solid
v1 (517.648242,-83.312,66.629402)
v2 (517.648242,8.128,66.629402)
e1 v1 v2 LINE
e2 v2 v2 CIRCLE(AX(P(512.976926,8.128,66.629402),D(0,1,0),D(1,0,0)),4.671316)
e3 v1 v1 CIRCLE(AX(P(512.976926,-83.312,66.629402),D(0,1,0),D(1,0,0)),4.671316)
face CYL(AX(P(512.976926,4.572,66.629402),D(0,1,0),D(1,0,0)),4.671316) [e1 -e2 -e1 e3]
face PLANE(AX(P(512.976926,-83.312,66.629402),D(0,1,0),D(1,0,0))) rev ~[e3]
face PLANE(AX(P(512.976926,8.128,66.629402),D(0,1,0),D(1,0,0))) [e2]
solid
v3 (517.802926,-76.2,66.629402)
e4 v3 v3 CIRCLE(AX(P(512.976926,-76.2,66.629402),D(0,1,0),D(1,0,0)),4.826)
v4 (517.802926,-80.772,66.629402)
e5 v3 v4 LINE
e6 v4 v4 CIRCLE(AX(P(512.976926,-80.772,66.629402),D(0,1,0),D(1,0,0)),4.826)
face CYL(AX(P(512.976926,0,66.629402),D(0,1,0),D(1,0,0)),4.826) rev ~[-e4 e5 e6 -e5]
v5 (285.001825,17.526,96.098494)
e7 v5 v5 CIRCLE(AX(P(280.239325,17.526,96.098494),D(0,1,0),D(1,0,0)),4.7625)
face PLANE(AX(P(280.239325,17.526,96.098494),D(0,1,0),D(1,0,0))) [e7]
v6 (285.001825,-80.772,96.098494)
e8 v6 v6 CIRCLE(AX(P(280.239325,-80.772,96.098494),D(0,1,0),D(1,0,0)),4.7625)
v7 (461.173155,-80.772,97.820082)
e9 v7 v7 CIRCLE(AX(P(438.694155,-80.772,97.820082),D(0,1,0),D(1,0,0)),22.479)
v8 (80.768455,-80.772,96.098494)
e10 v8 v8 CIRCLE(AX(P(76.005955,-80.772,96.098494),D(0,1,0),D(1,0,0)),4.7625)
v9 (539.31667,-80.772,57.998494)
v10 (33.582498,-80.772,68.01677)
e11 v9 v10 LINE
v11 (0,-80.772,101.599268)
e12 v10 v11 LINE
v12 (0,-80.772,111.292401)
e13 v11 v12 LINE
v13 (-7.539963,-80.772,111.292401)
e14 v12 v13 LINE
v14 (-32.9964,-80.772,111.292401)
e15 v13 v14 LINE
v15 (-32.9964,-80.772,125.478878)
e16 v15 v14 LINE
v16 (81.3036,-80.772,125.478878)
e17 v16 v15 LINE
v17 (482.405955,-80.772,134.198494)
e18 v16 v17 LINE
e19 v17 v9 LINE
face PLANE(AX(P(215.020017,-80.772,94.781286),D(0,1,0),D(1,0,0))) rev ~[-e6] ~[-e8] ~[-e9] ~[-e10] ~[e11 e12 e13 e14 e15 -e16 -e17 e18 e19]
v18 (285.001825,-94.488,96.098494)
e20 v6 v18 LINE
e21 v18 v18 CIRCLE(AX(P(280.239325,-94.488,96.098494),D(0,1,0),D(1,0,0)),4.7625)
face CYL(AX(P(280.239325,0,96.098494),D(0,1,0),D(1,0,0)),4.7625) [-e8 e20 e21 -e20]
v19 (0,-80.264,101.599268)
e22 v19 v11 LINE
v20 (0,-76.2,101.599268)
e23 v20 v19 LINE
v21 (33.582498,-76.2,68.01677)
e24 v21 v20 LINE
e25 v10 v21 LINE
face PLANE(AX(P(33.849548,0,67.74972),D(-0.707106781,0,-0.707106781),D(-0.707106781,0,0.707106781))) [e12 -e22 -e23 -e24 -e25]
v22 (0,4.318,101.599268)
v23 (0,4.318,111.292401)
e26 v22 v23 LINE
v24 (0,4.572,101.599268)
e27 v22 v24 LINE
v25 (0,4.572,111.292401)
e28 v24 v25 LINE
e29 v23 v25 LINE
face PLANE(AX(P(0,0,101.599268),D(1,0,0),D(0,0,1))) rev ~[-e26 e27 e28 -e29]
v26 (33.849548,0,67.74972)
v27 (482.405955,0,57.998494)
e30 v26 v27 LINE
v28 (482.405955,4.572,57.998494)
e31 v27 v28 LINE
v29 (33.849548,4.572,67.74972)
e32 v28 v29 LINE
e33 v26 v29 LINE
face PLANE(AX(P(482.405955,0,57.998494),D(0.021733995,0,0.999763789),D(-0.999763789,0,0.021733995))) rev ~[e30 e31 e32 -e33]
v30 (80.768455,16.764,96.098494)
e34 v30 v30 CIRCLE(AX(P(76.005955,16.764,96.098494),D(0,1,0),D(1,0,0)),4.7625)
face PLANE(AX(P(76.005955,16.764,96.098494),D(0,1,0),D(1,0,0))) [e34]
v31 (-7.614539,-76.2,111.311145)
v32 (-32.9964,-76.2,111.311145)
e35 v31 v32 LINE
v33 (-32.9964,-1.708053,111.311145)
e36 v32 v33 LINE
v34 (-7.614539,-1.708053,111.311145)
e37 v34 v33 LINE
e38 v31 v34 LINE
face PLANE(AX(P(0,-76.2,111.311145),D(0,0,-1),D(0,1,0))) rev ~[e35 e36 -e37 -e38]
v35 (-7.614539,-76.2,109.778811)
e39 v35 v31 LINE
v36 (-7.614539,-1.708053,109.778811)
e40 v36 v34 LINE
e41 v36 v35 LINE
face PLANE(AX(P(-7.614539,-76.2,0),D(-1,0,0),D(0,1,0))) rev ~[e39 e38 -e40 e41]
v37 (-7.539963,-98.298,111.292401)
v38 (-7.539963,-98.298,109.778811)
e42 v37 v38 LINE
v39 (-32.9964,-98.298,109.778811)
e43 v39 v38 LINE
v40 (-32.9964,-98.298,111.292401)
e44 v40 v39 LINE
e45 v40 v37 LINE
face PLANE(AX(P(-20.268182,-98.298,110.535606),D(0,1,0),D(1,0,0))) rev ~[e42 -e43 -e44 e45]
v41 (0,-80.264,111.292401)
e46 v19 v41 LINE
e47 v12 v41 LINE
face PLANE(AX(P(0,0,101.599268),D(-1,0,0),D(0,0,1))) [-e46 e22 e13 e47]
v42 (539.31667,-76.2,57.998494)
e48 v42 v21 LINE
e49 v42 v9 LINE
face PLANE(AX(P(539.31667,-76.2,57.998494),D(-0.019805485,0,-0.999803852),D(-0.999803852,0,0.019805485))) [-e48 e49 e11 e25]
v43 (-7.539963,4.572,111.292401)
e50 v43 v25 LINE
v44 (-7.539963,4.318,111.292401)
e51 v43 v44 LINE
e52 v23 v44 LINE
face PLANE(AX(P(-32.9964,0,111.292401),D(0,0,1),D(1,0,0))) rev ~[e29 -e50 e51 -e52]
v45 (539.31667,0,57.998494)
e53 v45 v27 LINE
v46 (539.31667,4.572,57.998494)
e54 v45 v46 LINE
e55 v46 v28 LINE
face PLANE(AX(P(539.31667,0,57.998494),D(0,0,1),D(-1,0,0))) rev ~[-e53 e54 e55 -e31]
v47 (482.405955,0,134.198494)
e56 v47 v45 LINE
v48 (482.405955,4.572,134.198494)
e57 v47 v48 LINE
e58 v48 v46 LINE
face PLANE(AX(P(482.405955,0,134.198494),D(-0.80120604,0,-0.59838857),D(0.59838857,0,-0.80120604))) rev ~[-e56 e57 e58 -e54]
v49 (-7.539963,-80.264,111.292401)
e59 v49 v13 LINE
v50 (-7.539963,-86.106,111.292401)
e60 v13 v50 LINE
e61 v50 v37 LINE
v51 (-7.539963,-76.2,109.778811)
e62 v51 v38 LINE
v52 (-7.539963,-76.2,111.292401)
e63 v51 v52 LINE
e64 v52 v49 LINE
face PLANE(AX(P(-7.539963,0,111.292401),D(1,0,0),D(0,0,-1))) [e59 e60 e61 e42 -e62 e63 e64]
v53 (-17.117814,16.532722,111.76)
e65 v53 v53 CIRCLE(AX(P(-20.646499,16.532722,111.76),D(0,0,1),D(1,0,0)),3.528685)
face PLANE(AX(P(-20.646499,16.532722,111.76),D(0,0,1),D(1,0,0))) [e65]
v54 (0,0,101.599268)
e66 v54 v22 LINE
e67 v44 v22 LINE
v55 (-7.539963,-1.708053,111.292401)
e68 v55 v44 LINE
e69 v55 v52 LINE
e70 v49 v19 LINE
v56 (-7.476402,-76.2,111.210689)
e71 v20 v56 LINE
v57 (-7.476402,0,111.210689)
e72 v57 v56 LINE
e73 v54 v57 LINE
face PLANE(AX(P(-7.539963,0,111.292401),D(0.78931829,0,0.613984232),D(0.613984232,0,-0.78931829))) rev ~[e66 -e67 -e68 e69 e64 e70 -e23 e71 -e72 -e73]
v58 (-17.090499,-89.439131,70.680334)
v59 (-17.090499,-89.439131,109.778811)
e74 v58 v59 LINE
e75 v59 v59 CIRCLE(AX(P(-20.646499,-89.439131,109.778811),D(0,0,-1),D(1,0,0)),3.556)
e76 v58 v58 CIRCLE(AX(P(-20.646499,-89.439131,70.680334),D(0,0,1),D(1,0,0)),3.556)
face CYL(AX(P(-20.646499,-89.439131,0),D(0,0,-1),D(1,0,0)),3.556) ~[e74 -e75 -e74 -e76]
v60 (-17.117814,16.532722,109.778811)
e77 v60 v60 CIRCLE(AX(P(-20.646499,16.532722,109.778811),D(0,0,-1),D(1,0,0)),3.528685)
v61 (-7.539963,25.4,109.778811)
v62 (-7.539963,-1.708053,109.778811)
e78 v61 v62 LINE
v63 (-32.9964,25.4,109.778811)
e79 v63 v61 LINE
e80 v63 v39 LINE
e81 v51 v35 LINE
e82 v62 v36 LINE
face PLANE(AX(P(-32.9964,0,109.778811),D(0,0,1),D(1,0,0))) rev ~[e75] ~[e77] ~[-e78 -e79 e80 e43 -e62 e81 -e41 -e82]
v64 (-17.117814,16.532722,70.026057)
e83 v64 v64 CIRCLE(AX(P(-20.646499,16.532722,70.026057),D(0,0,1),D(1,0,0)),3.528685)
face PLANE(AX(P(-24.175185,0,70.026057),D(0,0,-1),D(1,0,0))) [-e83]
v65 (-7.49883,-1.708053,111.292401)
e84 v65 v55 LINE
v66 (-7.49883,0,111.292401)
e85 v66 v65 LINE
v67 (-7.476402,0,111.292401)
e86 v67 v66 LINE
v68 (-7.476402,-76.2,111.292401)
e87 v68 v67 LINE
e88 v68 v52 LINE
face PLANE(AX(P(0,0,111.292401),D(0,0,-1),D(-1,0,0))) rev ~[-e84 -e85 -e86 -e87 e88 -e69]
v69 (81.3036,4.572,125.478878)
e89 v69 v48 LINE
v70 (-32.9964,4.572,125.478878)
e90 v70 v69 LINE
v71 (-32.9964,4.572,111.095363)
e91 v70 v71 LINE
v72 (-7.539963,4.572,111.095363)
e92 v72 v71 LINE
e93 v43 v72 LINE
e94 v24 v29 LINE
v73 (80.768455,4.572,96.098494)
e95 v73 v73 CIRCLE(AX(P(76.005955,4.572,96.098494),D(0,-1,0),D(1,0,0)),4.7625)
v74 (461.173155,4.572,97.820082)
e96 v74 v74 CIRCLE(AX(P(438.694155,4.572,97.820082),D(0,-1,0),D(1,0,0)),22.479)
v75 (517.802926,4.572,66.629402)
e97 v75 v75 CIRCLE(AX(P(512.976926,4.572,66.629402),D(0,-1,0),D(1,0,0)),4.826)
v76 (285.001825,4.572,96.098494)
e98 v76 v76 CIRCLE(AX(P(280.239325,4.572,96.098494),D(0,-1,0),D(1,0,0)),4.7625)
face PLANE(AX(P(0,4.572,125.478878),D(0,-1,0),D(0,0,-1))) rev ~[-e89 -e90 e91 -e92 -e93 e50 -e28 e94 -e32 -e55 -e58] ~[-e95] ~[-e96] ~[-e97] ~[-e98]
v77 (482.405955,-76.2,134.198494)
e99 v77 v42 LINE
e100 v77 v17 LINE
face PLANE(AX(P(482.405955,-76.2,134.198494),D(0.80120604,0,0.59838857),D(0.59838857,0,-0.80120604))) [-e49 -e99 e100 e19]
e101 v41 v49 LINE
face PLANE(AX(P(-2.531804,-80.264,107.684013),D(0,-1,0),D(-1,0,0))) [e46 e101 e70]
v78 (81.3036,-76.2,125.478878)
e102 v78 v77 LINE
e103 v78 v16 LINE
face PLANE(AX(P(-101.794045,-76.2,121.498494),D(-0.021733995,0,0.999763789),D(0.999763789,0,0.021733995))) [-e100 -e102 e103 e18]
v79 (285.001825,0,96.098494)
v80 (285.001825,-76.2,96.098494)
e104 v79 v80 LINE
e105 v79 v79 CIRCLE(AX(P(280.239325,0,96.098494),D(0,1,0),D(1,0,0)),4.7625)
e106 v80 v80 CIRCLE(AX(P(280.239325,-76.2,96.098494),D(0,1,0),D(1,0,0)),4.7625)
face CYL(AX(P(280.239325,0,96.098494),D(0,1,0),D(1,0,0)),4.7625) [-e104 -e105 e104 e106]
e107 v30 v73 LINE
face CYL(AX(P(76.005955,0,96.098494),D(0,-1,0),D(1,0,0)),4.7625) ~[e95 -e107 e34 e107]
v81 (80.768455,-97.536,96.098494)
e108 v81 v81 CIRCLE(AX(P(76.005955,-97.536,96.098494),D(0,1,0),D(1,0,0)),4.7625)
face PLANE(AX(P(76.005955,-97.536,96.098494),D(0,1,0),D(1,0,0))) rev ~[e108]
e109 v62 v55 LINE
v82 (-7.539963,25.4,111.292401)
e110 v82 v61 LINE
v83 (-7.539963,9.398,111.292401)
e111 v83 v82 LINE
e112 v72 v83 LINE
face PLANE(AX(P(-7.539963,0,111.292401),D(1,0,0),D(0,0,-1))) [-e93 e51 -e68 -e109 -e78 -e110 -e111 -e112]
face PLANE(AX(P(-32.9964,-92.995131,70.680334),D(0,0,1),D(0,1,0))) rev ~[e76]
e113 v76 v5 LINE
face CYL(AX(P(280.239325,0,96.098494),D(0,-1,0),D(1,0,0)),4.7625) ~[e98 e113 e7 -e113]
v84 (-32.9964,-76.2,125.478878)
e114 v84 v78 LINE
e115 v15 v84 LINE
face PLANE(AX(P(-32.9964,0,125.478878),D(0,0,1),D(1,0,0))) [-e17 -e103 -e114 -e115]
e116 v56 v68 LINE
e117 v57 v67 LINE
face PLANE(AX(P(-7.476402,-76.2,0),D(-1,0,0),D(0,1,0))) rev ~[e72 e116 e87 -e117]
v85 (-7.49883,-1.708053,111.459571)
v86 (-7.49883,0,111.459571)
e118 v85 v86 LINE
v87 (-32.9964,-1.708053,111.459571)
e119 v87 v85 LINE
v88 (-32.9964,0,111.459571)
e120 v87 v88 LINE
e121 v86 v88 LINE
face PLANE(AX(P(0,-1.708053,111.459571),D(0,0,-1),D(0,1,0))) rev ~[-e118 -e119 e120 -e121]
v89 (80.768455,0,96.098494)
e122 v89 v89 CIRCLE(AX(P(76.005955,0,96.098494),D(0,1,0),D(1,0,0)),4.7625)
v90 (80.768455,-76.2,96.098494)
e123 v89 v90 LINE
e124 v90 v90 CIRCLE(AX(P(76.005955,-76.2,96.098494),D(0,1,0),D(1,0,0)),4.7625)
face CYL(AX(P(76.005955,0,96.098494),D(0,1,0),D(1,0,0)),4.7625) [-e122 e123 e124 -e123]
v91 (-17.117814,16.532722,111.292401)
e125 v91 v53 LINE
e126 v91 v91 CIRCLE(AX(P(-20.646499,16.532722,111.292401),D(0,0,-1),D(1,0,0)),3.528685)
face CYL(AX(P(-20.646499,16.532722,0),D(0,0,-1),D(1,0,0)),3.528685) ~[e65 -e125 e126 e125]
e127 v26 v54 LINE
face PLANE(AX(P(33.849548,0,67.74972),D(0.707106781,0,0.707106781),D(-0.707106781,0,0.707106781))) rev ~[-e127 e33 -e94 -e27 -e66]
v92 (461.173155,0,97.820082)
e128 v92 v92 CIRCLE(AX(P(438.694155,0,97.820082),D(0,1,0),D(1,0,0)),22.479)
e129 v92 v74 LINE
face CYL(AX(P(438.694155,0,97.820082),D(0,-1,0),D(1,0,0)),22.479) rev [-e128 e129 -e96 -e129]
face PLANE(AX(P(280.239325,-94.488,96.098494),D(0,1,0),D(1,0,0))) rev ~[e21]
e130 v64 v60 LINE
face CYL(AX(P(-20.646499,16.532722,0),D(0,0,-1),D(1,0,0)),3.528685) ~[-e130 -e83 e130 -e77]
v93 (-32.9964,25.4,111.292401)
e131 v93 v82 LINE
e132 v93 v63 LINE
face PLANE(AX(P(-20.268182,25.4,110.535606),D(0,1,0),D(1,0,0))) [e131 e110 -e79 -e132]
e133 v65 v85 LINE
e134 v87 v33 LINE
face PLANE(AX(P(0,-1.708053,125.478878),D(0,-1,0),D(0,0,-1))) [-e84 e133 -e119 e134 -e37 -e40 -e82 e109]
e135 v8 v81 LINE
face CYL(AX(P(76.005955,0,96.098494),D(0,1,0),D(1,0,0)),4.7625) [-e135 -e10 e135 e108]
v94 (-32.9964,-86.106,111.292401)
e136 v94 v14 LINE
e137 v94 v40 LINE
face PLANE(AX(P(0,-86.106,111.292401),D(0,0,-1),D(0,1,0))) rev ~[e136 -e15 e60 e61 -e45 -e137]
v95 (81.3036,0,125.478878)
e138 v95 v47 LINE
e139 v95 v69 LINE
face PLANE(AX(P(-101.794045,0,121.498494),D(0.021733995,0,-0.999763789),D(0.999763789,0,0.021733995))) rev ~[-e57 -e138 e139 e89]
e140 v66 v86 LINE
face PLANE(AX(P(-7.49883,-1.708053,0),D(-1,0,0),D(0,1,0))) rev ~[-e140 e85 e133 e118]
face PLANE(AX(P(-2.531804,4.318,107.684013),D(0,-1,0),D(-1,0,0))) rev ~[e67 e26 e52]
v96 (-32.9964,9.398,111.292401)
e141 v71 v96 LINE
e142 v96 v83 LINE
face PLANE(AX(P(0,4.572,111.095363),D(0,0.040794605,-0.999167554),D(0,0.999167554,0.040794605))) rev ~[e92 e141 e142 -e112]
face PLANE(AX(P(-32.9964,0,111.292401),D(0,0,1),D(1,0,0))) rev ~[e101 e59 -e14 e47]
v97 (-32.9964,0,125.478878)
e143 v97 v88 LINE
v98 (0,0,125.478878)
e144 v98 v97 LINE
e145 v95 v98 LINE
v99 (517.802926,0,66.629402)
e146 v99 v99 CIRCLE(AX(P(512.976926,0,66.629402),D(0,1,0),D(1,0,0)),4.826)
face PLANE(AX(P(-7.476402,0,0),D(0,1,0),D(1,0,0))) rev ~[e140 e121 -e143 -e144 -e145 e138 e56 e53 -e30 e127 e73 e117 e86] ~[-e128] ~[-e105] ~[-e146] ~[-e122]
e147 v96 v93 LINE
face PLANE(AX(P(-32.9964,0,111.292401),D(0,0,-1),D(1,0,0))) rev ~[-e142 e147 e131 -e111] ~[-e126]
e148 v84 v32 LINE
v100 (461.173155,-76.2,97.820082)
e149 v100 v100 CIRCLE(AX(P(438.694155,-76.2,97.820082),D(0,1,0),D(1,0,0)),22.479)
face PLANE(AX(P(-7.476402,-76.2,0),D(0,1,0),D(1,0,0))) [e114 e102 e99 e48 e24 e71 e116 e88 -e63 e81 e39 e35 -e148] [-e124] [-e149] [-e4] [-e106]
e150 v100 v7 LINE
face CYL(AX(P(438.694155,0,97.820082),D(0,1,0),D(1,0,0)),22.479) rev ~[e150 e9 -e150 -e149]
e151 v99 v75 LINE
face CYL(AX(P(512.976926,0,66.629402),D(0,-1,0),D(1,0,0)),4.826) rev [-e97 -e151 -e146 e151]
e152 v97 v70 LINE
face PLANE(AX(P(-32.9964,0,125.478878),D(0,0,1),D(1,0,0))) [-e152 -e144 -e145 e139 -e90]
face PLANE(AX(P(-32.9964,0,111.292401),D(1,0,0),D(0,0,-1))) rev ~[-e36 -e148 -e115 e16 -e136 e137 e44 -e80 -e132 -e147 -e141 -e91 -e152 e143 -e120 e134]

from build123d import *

# Parameters (mm, degrees)
SALIENTE_EXTRUIR2_DEPTH       = 4.572
CROQUIS4_R                    = 4.7625
CORTAR_EXTRUIR2_DEPTH         = 152.654
CORTAR_EXTRUIR2_DEPTH_BACK    = 98.552
CROQUIS5_R                    = 7.9375
CORTAR_EXTRUIR5_DEPTH         = 47.498
CORTAR_EXTRUIR5_DEPTH_BACK    = 59.182
CROQUIS6_R                    = 4.7625
SALIENTE_EXTRUIR4_DEPTH       = 17.526
SALIENTE_EXTRUIR4_DEPTH_BACK  = 94.488
CROQUIS7_R                    = 4.7625
SALIENTE_EXTRUIR5_DEPTH       = 16.002
SALIENTE_EXTRUIR5_DEPTH_BACK  = 97.536
CROQUIS10_R                   = 7.9375
SALIENTE_EXTRUIR6_DEPTH       = 4.572
CROQUIS11_R                   = 22.479
CORTAR_EXTRUIR6_DEPTH         = 97.282
CORTAR_EXTRUIR6_DEPTH_BACK    = 123.444
CROQUIS12_R                   = 4.826
CORTAR_EXTRUIR7_DEPTH         = 113.792
CORTAR_EXTRUIR7_DEPTH_BACK    = 187.96
CROQUIS13_R                   = 4.671315892
SALIENTE_EXTRUIR8_DEPTH       = 3.556
SALIENTE_EXTRUIR8_DEPTH_BACK  = 87.884
CORTAR_EXTRUIR8_DEPTH         = 84.074
CORTAR_EXTRUIR8_DEPTH_BACK    = 142.748
CROQUIS15_W                   = 114.3
CROQUIS15_H                   = 14.18647629
SALIENTE_EXTRUIR13_DEPTH      = 9.398
SALIENTE_EXTRUIR13_DEPTH_BACK = 86.106
CROQUIS17_W                   = 25.456436791
CROQUIS17_H                   = 1.513590227
SALIENTE_EXTRUIR14_DEPTH      = 25.4
SALIENTE_EXTRUIR14_DEPTH_BACK = 98.298
CROQUIS18_W                   = 13.736168234
CROQUIS18_H                   = 76.2
CORTAR_EXTRUIR9_DEPTH         = 127.508
CROQUIS19_W                   = 14.167732796
CROQUIS19_H                   = 72.287064097
CORTAR_EXTRUIR12_DEPTH        = 127.508
CROQUIS20_W                   = 71.243454513
CROQUIS20_H                   = 66.240283729
CORTAR_EXTRUIR13_DEPTH        = 289.306
CORTAR_EXTRUIR13_DEPTH_BACK   = 150.368
CORTAR_EXTRUIR14_DEPTH        = 662.432
CORTAR_EXTRUIR14_DEPTH_BACK   = 12.7
CORTAR_EXTRUIR15_DEPTH        = 397.51
CROQUIS23_R                   = 4.7625
SALIENTE_EXTRUIR15_DEPTH      = 16.764
SALIENTE_EXTRUIR15_DEPTH_BACK = 95.504
CORTAR_EXTRUIR17_DEPTH        = 83.566
CORTAR_EXTRUIR17_DEPTH_BACK   = 37.846
CROQUIS25_W                   = 14.18647629
CROQUIS25_H                   = 5.334
CORTAR_EXTRUIR18_DEPTH        = 88.138
CORTAR_EXTRUIR18_DEPTH_BACK   = 41.402
CROQUIS26_W                   = 14.019306629
CROQUIS26_H                   = 1.708052777
CORTAR_EXTRUIR19_DEPTH        = 41.402
CORTAR_EXTRUIR19_DEPTH_BACK   = 67.31
CROQUIS27_W                   = 14.167732796
CROQUIS27_H                   = 2.204883126
CORTAR_EXTRUIR20_DEPTH        = 48.26
CORTAR_EXTRUIR20_DEPTH_BACK   = 71.628
CROQUIS28_W                   = 7.614539368
CROQUIS28_H                   = 74.491947223
CORTAR_EXTRUIR21_DEPTH        = 254
CROQUIS29_W                   = 7.498830198
CROQUIS29_H                   = 1.708052777
CORTAR_EXTRUIR22_DEPTH        = 340.106
SALIENTE_EXTRUIR19_DEPTH      = 4.318
SALIENTE_EXTRUIR19_DEPTH_BACK = 80.264
CROQUIS32_W                   = 7.476401903
CROQUIS32_H                   = 76.2
CORTAR_EXTRUIR24_DEPTH        = 209.042
CROQUIS33_R                   = 3.528685289
SALIENTE_EXTRUIR20_DEPTH      = 111.76
CROQUIS34_W                   = 7.057370577
CROQUIS34_H                   = 70.026056614
CORTAR_EXTRUIR25_DEPTH        = 200.406
CROQUIS35_R                   = 3.556
SALIENTE_EXTRUIR21_DEPTH      = 110.998
SALIENTE_EXTRUIR21_DEPTH_BACK = 5.08
CROQUIS36_W                   = 75.760333747
CROQUIS36_H                   = 7.112
CORTAR_EXTRUIR26_DEPTH        = 55.626
CORTAR_EXTRUIR26_DEPTH_BACK   = 67.818


with BuildPart() as part:
    # Croquis1 → Saliente-Extruir2 (new body)
    with BuildSketch(Plane(origin=(0, 0, 0), x_dir=(1, 0, 0), z_dir=(0, 1, 0))):
        Polygon((-101.794045487, -70.698494166), (-101.794045487, -121.498494166), (482.405954513, -134.198494166), (539.316670094, -57.998494166), (482.405954513, -57.998494166), align=None)
    extrude(amount=SALIENTE_EXTRUIR2_DEPTH)

    # Croquis4 → Cortar-Extruir2 (cut, two sides)
    with BuildSketch(Plane(origin=(0, 0, 0), x_dir=(1, 0, 0), z_dir=(0, 1, 0))) as cortar_extruir2_sk:
        with Locations((76.005954513, -96.098494166)):
            Circle(CROQUIS4_R)
        with Locations((280.239325042, -96.098494166)):
            Circle(CROQUIS4_R)
    extrude(amount=CORTAR_EXTRUIR2_DEPTH, mode=Mode.SUBTRACT)
    extrude(cortar_extruir2_sk.sketch, amount=-CORTAR_EXTRUIR2_DEPTH_BACK, mode=Mode.SUBTRACT)

    # Croquis5 → Cortar-Extruir5 (cut, two sides)
    with BuildSketch(Plane(origin=(0, 0, 0), x_dir=(1, 0, 0), z_dir=(0, 1, 0))) as cortar_extruir5_sk:
        with Locations((438.694154646, -97.820081973)):
            Circle(CROQUIS5_R)
    extrude(amount=CORTAR_EXTRUIR5_DEPTH, mode=Mode.SUBTRACT)
    extrude(cortar_extruir5_sk.sketch, amount=-CORTAR_EXTRUIR5_DEPTH_BACK, mode=Mode.SUBTRACT)

    # Croquis6 → Saliente-Extruir4 (add, two sides)
    with BuildSketch(Plane(origin=(0, 0, 0), x_dir=(1, 0, 0), z_dir=(0, 1, 0))) as saliente_extruir4_sk:
        with Locations((280.239325042, -96.098494166)):
            Circle(CROQUIS6_R)
    extrude(amount=SALIENTE_EXTRUIR4_DEPTH)
    extrude(saliente_extruir4_sk.sketch, amount=-SALIENTE_EXTRUIR4_DEPTH_BACK)

    # Croquis7 → Saliente-Extruir5 (add, two sides)
    with BuildSketch(Plane(origin=(0, 0, 0), x_dir=(1, 0, 0), z_dir=(0, 1, 0))) as saliente_extruir5_sk:
        with Locations((76.005954513, -96.098494166)):
            Circle(CROQUIS7_R)
    extrude(amount=SALIENTE_EXTRUIR5_DEPTH)
    extrude(saliente_extruir5_sk.sketch, amount=-SALIENTE_EXTRUIR5_DEPTH_BACK)

    # Croquis10 → Saliente-Extruir6 (add)
    with BuildSketch(Plane(origin=(0, -76.2, 0), x_dir=(-1, 0, 0), z_dir=(0, -1, 0))):
        Polygon((-539.316670094, -57.998494166), (101.794045487, -70.698494166), (101.794045487, -121.498494166), (-482.405954513, -134.198494166), align=None)
        with Locations((-438.694154646, -97.820081973)):
            Circle(CROQUIS10_R, mode=Mode.SUBTRACT)
    extrude(amount=SALIENTE_EXTRUIR6_DEPTH)

    # Croquis11 → Cortar-Extruir6 (cut, two sides)
    with BuildSketch(Plane(origin=(0, 0, 0), x_dir=(1, 0, 0), z_dir=(0, 1, 0))) as cortar_extruir6_sk:
        with Locations((438.694154646, -97.820081973)):
            Circle(CROQUIS11_R)
    extrude(amount=CORTAR_EXTRUIR6_DEPTH, mode=Mode.SUBTRACT)
    extrude(cortar_extruir6_sk.sketch, amount=-CORTAR_EXTRUIR6_DEPTH_BACK, mode=Mode.SUBTRACT)

    # Croquis12 → Cortar-Extruir7 (cut, two sides)
    with BuildSketch(Plane(origin=(0, 0, 0), x_dir=(1, 0, 0), z_dir=(0, 1, 0))) as cortar_extruir7_sk:
        with Locations((512.976925935, -66.629402009)):
            Circle(CROQUIS12_R)
    extrude(amount=CORTAR_EXTRUIR7_DEPTH, mode=Mode.SUBTRACT)
    extrude(cortar_extruir7_sk.sketch, amount=-CORTAR_EXTRUIR7_DEPTH_BACK, mode=Mode.SUBTRACT)

    # Croquis14 → Cortar-Extruir8 (cut, two sides)
    with BuildSketch(Plane(origin=(0, 0, 0), x_dir=(1, 0, 0), z_dir=(0, 1, 0))) as cortar_extruir8_sk:
        Polygon((33.849548038, -67.749720393), (0, -101.599268431), (0, -123.711408198), (-101.794045487, -121.498494166), (-101.794045487, -70.698494166), align=None)
    extrude(amount=CORTAR_EXTRUIR8_DEPTH, mode=Mode.SUBTRACT)
    extrude(cortar_extruir8_sk.sketch, amount=-CORTAR_EXTRUIR8_DEPTH_BACK, mode=Mode.SUBTRACT)

    # Croquis15 → Saliente-Extruir13 (add, two sides)
    with BuildSketch(Plane(origin=(0, 0, 0), x_dir=(1, 0, 0), z_dir=(0, 1, 0))) as saliente_extruir13_sk:
        with Locations((24.153600026, -118.385639619)):
            Rectangle(CROQUIS15_W, CROQUIS15_H)
    extrude(amount=SALIENTE_EXTRUIR13_DEPTH)
    extrude(saliente_extruir13_sk.sketch, amount=-SALIENTE_EXTRUIR13_DEPTH_BACK)

    # Croquis17 → Saliente-Extruir14 (add, two sides)
    with BuildSketch(Plane(origin=(0, 0, 0), x_dir=(1, 0, 0), z_dir=(0, 1, 0))) as saliente_extruir14_sk:
        with Locations((-20.268181578, -110.53560636)):
            Rectangle(CROQUIS17_W, CROQUIS17_H)
    extrude(amount=SALIENTE_EXTRUIR14_DEPTH)
    extrude(saliente_extruir14_sk.sketch, amount=-SALIENTE_EXTRUIR14_DEPTH_BACK)

    # Croquis18 → Cortar-Extruir9 (cut)
    with BuildSketch(Plane(origin=(0, 0, 0), x_dir=(0, 0, -1), z_dir=(1, 0, 0))):
        with Locations((-118.610793647, -38.1)):
            Rectangle(CROQUIS18_W, CROQUIS18_H)
    extrude(amount=CORTAR_EXTRUIR9_DEPTH, mode=Mode.SUBTRACT)

    # Croquis19 → Cortar-Extruir12 (cut)
    with BuildSketch(Plane(origin=(0, 0, 0), x_dir=(0, 0, -1), z_dir=(1, 0, 0))):
        with Locations((-118.395011366, -37.851584826)):
            Rectangle(CROQUIS19_W, CROQUIS19_H)
    extrude(amount=-CORTAR_EXTRUIR12_DEPTH, mode=Mode.SUBTRACT)

    # Croquis20 → Cortar-Extruir13 (cut, two sides)
    with BuildSketch(Plane.XY.offset(111.74270953)) as cortar_extruir13_sk:
        with Locations((35.621727257, -38.064616677)):
            Rectangle(CROQUIS20_W, CROQUIS20_H)
    extrude(amount=CORTAR_EXTRUIR13_DEPTH, mode=Mode.SUBTRACT)
    extrude(cortar_extruir13_sk.sketch, amount=-CORTAR_EXTRUIR13_DEPTH_BACK, mode=Mode.SUBTRACT)

    # Croquis21 → Cortar-Extruir14 (cut, two sides)
    with BuildSketch(Plane.XY) as cortar_extruir14_sk:
        Polygon((71.243454513, -4.944474812), (71.243454513, -71.184758541), (81.303600026, -76.2), (81.303600026, 0), (0, 0), (0, -4.944474812), align=None)
    extrude(amount=CORTAR_EXTRUIR14_DEPTH, mode=Mode.SUBTRACT)
    extrude(cortar_extruir14_sk.sketch, amount=-CORTAR_EXTRUIR14_DEPTH_BACK, mode=Mode.SUBTRACT)

    # Croquis22 → Cortar-Extruir15 (cut)
    with BuildSketch(Plane.XY):
        Polygon((71.243454513, -71.184758541), (0, -71.184758541), (0, -76.2), (81.544591258, -76.2), align=None)
    extrude(amount=CORTAR_EXTRUIR15_DEPTH, mode=Mode.SUBTRACT)

    # Croquis23 → Saliente-Extruir15 (add, two sides)
    with BuildSketch(Plane(origin=(0, 0, 0), x_dir=(1, 0, 0), z_dir=(0, 1, 0))) as saliente_extruir15_sk:
        with Locations((76.005954513, -96.098494166)):
            Circle(CROQUIS23_R)
    extrude(amount=SALIENTE_EXTRUIR15_DEPTH)
    extrude(saliente_extruir15_sk.sketch, amount=-SALIENTE_EXTRUIR15_DEPTH_BACK)

    # Croquis24 → Cortar-Extruir17 (cut, two sides)
    with BuildSketch(Plane(origin=(0, 0, 0), x_dir=(0, 0, -1), z_dir=(1, 0, 0))) as cortar_extruir17_sk:
        Polygon((-125.478877764, 4.572), (-111.095362687, 4.572), (-111.292401474, 9.398), (-125.478877764, 9.398), align=None)
    extrude(amount=CORTAR_EXTRUIR17_DEPTH, mode=Mode.SUBTRACT)
    extrude(cortar_extruir17_sk.sketch, amount=-CORTAR_EXTRUIR17_DEPTH_BACK, mode=Mode.SUBTRACT)

    # Croquis25 → Cortar-Extruir18 (cut, two sides)
    with BuildSketch(Plane(origin=(0, 0, 0), x_dir=(0, 0, -1), z_dir=(1, 0, 0))) as cortar_extruir18_sk:
        with Locations((-118.385639619, -83.439)):
            Rectangle(CROQUIS25_W, CROQUIS25_H)
    extrude(amount=CORTAR_EXTRUIR18_DEPTH, mode=Mode.SUBTRACT)
    extrude(cortar_extruir18_sk.sketch, amount=-CORTAR_EXTRUIR18_DEPTH_BACK, mode=Mode.SUBTRACT)

    # Croquis26 → Cortar-Extruir19 (cut, two sides)
    with BuildSketch(Plane(origin=(0, 0, 0), x_dir=(0, 0, -1), z_dir=(1, 0, 0))) as cortar_extruir19_sk:
        with Locations((-118.46922445, -0.854026389)):
            Rectangle(CROQUIS26_W, CROQUIS26_H)
    extrude(amount=CORTAR_EXTRUIR19_DEPTH, mode=Mode.SUBTRACT)
    extrude(cortar_extruir19_sk.sketch, amount=-CORTAR_EXTRUIR19_DEPTH_BACK, mode=Mode.SUBTRACT)

    # Croquis27 → Cortar-Extruir20 (cut, two sides)
    with BuildSketch(Plane(origin=(0, 0, 0), x_dir=(0, 0, -1), z_dir=(1, 0, 0))) as cortar_extruir20_sk:
        with Locations((-118.395011366, -75.097558437)):
            Rectangle(CROQUIS27_W, CROQUIS27_H)
    extrude(amount=CORTAR_EXTRUIR20_DEPTH, mode=Mode.SUBTRACT)
    extrude(cortar_extruir20_sk.sketch, amount=-CORTAR_EXTRUIR20_DEPTH_BACK, mode=Mode.SUBTRACT)

    # Croquis28 → Cortar-Extruir21 (cut)
    with BuildSketch(Plane.XY):
        with Locations((-3.807269684, -38.954026389)):
            Rectangle(CROQUIS28_W, CROQUIS28_H)
    extrude(amount=CORTAR_EXTRUIR21_DEPTH, mode=Mode.SUBTRACT)

    # Croquis29 → Cortar-Extruir22 (cut)
    with BuildSketch(Plane.XY):
        with Locations((-3.749415099, -0.854026389)):
            Rectangle(CROQUIS29_W, CROQUIS29_H)
    extrude(amount=CORTAR_EXTRUIR22_DEPTH, mode=Mode.SUBTRACT)

    # Croquis30 → Saliente-Extruir19 (add, two sides)
    with BuildSketch(Plane(origin=(0, 0, 0), x_dir=(1, 0, 0), z_dir=(0, 1, 0))) as saliente_extruir19_sk:
        Polygon((-7.539963183, -111.292401474), (0, -101.599268431), (0, -111.292401474), align=None)
    extrude(amount=SALIENTE_EXTRUIR19_DEPTH)
    extrude(saliente_extruir19_sk.sketch, amount=-SALIENTE_EXTRUIR19_DEPTH_BACK)

    # Croquis32 → Cortar-Extruir24 (cut)
    with BuildSketch(Plane.XY):
        with Locations((-3.738200952, -38.1)):
            Rectangle(CROQUIS32_W, CROQUIS32_H)
    extrude(amount=CORTAR_EXTRUIR24_DEPTH, mode=Mode.SUBTRACT)

    # Croquis33 → Saliente-Extruir20 (add)
    with BuildSketch(Plane.XY):
        with Locations((-20.646499343, 16.53272161)):
            Circle(CROQUIS33_R)
    extrude(amount=SALIENTE_EXTRUIR20_DEPTH)

    # Croquis34 → Cortar-Extruir25 (cut)
    with BuildSketch(Plane(origin=(0, 0, 0), x_dir=(1, 0, 0), z_dir=(0, 1, 0))):
        with Locations((-20.646499343, -35.013028307)):
            Rectangle(CROQUIS34_W, CROQUIS34_H)
    extrude(amount=CORTAR_EXTRUIR25_DEPTH, mode=Mode.SUBTRACT)

    # Croquis35 → Saliente-Extruir21 (add, two sides)
    with BuildSketch(Plane.XY) as saliente_extruir21_sk:
        with Locations((-20.646499343, -89.439131113)):
            Circle(CROQUIS35_R)
    extrude(amount=SALIENTE_EXTRUIR21_DEPTH)
    extrude(saliente_extruir21_sk.sketch, amount=-SALIENTE_EXTRUIR21_DEPTH_BACK)

    # Croquis36 → Cortar-Extruir26 (cut, two sides)
    with BuildSketch(Plane.ZY.offset(32.996399974)) as cortar_extruir26_sk:
        with Locations((32.800166874, -89.439131113)):
            Rectangle(CROQUIS36_W, CROQUIS36_H)
    extrude(amount=CORTAR_EXTRUIR26_DEPTH, mode=Mode.SUBTRACT)
    extrude(cortar_extruir26_sk.sketch, amount=-CORTAR_EXTRUIR26_DEPTH_BACK, mode=Mode.SUBTRACT)


with BuildPart() as body_2:
    # Croquis13 → Saliente-Extruir8 (new body, two sides)
    with BuildSketch(Plane(origin=(0, 4.572, 0), x_dir=(1, 0, 0), z_dir=(0, 1, 0))) as saliente_extruir8_sk:
        with Locations((512.976925935, -66.629402009)):
            Circle(CROQUIS13_R)
    extrude(amount=SALIENTE_EXTRUIR8_DEPTH)
    extrude(saliente_extruir8_sk.sketch, amount=-SALIENTE_EXTRUIR8_DEPTH_BACK)


solid = Compound([part.part, body_2.part])
